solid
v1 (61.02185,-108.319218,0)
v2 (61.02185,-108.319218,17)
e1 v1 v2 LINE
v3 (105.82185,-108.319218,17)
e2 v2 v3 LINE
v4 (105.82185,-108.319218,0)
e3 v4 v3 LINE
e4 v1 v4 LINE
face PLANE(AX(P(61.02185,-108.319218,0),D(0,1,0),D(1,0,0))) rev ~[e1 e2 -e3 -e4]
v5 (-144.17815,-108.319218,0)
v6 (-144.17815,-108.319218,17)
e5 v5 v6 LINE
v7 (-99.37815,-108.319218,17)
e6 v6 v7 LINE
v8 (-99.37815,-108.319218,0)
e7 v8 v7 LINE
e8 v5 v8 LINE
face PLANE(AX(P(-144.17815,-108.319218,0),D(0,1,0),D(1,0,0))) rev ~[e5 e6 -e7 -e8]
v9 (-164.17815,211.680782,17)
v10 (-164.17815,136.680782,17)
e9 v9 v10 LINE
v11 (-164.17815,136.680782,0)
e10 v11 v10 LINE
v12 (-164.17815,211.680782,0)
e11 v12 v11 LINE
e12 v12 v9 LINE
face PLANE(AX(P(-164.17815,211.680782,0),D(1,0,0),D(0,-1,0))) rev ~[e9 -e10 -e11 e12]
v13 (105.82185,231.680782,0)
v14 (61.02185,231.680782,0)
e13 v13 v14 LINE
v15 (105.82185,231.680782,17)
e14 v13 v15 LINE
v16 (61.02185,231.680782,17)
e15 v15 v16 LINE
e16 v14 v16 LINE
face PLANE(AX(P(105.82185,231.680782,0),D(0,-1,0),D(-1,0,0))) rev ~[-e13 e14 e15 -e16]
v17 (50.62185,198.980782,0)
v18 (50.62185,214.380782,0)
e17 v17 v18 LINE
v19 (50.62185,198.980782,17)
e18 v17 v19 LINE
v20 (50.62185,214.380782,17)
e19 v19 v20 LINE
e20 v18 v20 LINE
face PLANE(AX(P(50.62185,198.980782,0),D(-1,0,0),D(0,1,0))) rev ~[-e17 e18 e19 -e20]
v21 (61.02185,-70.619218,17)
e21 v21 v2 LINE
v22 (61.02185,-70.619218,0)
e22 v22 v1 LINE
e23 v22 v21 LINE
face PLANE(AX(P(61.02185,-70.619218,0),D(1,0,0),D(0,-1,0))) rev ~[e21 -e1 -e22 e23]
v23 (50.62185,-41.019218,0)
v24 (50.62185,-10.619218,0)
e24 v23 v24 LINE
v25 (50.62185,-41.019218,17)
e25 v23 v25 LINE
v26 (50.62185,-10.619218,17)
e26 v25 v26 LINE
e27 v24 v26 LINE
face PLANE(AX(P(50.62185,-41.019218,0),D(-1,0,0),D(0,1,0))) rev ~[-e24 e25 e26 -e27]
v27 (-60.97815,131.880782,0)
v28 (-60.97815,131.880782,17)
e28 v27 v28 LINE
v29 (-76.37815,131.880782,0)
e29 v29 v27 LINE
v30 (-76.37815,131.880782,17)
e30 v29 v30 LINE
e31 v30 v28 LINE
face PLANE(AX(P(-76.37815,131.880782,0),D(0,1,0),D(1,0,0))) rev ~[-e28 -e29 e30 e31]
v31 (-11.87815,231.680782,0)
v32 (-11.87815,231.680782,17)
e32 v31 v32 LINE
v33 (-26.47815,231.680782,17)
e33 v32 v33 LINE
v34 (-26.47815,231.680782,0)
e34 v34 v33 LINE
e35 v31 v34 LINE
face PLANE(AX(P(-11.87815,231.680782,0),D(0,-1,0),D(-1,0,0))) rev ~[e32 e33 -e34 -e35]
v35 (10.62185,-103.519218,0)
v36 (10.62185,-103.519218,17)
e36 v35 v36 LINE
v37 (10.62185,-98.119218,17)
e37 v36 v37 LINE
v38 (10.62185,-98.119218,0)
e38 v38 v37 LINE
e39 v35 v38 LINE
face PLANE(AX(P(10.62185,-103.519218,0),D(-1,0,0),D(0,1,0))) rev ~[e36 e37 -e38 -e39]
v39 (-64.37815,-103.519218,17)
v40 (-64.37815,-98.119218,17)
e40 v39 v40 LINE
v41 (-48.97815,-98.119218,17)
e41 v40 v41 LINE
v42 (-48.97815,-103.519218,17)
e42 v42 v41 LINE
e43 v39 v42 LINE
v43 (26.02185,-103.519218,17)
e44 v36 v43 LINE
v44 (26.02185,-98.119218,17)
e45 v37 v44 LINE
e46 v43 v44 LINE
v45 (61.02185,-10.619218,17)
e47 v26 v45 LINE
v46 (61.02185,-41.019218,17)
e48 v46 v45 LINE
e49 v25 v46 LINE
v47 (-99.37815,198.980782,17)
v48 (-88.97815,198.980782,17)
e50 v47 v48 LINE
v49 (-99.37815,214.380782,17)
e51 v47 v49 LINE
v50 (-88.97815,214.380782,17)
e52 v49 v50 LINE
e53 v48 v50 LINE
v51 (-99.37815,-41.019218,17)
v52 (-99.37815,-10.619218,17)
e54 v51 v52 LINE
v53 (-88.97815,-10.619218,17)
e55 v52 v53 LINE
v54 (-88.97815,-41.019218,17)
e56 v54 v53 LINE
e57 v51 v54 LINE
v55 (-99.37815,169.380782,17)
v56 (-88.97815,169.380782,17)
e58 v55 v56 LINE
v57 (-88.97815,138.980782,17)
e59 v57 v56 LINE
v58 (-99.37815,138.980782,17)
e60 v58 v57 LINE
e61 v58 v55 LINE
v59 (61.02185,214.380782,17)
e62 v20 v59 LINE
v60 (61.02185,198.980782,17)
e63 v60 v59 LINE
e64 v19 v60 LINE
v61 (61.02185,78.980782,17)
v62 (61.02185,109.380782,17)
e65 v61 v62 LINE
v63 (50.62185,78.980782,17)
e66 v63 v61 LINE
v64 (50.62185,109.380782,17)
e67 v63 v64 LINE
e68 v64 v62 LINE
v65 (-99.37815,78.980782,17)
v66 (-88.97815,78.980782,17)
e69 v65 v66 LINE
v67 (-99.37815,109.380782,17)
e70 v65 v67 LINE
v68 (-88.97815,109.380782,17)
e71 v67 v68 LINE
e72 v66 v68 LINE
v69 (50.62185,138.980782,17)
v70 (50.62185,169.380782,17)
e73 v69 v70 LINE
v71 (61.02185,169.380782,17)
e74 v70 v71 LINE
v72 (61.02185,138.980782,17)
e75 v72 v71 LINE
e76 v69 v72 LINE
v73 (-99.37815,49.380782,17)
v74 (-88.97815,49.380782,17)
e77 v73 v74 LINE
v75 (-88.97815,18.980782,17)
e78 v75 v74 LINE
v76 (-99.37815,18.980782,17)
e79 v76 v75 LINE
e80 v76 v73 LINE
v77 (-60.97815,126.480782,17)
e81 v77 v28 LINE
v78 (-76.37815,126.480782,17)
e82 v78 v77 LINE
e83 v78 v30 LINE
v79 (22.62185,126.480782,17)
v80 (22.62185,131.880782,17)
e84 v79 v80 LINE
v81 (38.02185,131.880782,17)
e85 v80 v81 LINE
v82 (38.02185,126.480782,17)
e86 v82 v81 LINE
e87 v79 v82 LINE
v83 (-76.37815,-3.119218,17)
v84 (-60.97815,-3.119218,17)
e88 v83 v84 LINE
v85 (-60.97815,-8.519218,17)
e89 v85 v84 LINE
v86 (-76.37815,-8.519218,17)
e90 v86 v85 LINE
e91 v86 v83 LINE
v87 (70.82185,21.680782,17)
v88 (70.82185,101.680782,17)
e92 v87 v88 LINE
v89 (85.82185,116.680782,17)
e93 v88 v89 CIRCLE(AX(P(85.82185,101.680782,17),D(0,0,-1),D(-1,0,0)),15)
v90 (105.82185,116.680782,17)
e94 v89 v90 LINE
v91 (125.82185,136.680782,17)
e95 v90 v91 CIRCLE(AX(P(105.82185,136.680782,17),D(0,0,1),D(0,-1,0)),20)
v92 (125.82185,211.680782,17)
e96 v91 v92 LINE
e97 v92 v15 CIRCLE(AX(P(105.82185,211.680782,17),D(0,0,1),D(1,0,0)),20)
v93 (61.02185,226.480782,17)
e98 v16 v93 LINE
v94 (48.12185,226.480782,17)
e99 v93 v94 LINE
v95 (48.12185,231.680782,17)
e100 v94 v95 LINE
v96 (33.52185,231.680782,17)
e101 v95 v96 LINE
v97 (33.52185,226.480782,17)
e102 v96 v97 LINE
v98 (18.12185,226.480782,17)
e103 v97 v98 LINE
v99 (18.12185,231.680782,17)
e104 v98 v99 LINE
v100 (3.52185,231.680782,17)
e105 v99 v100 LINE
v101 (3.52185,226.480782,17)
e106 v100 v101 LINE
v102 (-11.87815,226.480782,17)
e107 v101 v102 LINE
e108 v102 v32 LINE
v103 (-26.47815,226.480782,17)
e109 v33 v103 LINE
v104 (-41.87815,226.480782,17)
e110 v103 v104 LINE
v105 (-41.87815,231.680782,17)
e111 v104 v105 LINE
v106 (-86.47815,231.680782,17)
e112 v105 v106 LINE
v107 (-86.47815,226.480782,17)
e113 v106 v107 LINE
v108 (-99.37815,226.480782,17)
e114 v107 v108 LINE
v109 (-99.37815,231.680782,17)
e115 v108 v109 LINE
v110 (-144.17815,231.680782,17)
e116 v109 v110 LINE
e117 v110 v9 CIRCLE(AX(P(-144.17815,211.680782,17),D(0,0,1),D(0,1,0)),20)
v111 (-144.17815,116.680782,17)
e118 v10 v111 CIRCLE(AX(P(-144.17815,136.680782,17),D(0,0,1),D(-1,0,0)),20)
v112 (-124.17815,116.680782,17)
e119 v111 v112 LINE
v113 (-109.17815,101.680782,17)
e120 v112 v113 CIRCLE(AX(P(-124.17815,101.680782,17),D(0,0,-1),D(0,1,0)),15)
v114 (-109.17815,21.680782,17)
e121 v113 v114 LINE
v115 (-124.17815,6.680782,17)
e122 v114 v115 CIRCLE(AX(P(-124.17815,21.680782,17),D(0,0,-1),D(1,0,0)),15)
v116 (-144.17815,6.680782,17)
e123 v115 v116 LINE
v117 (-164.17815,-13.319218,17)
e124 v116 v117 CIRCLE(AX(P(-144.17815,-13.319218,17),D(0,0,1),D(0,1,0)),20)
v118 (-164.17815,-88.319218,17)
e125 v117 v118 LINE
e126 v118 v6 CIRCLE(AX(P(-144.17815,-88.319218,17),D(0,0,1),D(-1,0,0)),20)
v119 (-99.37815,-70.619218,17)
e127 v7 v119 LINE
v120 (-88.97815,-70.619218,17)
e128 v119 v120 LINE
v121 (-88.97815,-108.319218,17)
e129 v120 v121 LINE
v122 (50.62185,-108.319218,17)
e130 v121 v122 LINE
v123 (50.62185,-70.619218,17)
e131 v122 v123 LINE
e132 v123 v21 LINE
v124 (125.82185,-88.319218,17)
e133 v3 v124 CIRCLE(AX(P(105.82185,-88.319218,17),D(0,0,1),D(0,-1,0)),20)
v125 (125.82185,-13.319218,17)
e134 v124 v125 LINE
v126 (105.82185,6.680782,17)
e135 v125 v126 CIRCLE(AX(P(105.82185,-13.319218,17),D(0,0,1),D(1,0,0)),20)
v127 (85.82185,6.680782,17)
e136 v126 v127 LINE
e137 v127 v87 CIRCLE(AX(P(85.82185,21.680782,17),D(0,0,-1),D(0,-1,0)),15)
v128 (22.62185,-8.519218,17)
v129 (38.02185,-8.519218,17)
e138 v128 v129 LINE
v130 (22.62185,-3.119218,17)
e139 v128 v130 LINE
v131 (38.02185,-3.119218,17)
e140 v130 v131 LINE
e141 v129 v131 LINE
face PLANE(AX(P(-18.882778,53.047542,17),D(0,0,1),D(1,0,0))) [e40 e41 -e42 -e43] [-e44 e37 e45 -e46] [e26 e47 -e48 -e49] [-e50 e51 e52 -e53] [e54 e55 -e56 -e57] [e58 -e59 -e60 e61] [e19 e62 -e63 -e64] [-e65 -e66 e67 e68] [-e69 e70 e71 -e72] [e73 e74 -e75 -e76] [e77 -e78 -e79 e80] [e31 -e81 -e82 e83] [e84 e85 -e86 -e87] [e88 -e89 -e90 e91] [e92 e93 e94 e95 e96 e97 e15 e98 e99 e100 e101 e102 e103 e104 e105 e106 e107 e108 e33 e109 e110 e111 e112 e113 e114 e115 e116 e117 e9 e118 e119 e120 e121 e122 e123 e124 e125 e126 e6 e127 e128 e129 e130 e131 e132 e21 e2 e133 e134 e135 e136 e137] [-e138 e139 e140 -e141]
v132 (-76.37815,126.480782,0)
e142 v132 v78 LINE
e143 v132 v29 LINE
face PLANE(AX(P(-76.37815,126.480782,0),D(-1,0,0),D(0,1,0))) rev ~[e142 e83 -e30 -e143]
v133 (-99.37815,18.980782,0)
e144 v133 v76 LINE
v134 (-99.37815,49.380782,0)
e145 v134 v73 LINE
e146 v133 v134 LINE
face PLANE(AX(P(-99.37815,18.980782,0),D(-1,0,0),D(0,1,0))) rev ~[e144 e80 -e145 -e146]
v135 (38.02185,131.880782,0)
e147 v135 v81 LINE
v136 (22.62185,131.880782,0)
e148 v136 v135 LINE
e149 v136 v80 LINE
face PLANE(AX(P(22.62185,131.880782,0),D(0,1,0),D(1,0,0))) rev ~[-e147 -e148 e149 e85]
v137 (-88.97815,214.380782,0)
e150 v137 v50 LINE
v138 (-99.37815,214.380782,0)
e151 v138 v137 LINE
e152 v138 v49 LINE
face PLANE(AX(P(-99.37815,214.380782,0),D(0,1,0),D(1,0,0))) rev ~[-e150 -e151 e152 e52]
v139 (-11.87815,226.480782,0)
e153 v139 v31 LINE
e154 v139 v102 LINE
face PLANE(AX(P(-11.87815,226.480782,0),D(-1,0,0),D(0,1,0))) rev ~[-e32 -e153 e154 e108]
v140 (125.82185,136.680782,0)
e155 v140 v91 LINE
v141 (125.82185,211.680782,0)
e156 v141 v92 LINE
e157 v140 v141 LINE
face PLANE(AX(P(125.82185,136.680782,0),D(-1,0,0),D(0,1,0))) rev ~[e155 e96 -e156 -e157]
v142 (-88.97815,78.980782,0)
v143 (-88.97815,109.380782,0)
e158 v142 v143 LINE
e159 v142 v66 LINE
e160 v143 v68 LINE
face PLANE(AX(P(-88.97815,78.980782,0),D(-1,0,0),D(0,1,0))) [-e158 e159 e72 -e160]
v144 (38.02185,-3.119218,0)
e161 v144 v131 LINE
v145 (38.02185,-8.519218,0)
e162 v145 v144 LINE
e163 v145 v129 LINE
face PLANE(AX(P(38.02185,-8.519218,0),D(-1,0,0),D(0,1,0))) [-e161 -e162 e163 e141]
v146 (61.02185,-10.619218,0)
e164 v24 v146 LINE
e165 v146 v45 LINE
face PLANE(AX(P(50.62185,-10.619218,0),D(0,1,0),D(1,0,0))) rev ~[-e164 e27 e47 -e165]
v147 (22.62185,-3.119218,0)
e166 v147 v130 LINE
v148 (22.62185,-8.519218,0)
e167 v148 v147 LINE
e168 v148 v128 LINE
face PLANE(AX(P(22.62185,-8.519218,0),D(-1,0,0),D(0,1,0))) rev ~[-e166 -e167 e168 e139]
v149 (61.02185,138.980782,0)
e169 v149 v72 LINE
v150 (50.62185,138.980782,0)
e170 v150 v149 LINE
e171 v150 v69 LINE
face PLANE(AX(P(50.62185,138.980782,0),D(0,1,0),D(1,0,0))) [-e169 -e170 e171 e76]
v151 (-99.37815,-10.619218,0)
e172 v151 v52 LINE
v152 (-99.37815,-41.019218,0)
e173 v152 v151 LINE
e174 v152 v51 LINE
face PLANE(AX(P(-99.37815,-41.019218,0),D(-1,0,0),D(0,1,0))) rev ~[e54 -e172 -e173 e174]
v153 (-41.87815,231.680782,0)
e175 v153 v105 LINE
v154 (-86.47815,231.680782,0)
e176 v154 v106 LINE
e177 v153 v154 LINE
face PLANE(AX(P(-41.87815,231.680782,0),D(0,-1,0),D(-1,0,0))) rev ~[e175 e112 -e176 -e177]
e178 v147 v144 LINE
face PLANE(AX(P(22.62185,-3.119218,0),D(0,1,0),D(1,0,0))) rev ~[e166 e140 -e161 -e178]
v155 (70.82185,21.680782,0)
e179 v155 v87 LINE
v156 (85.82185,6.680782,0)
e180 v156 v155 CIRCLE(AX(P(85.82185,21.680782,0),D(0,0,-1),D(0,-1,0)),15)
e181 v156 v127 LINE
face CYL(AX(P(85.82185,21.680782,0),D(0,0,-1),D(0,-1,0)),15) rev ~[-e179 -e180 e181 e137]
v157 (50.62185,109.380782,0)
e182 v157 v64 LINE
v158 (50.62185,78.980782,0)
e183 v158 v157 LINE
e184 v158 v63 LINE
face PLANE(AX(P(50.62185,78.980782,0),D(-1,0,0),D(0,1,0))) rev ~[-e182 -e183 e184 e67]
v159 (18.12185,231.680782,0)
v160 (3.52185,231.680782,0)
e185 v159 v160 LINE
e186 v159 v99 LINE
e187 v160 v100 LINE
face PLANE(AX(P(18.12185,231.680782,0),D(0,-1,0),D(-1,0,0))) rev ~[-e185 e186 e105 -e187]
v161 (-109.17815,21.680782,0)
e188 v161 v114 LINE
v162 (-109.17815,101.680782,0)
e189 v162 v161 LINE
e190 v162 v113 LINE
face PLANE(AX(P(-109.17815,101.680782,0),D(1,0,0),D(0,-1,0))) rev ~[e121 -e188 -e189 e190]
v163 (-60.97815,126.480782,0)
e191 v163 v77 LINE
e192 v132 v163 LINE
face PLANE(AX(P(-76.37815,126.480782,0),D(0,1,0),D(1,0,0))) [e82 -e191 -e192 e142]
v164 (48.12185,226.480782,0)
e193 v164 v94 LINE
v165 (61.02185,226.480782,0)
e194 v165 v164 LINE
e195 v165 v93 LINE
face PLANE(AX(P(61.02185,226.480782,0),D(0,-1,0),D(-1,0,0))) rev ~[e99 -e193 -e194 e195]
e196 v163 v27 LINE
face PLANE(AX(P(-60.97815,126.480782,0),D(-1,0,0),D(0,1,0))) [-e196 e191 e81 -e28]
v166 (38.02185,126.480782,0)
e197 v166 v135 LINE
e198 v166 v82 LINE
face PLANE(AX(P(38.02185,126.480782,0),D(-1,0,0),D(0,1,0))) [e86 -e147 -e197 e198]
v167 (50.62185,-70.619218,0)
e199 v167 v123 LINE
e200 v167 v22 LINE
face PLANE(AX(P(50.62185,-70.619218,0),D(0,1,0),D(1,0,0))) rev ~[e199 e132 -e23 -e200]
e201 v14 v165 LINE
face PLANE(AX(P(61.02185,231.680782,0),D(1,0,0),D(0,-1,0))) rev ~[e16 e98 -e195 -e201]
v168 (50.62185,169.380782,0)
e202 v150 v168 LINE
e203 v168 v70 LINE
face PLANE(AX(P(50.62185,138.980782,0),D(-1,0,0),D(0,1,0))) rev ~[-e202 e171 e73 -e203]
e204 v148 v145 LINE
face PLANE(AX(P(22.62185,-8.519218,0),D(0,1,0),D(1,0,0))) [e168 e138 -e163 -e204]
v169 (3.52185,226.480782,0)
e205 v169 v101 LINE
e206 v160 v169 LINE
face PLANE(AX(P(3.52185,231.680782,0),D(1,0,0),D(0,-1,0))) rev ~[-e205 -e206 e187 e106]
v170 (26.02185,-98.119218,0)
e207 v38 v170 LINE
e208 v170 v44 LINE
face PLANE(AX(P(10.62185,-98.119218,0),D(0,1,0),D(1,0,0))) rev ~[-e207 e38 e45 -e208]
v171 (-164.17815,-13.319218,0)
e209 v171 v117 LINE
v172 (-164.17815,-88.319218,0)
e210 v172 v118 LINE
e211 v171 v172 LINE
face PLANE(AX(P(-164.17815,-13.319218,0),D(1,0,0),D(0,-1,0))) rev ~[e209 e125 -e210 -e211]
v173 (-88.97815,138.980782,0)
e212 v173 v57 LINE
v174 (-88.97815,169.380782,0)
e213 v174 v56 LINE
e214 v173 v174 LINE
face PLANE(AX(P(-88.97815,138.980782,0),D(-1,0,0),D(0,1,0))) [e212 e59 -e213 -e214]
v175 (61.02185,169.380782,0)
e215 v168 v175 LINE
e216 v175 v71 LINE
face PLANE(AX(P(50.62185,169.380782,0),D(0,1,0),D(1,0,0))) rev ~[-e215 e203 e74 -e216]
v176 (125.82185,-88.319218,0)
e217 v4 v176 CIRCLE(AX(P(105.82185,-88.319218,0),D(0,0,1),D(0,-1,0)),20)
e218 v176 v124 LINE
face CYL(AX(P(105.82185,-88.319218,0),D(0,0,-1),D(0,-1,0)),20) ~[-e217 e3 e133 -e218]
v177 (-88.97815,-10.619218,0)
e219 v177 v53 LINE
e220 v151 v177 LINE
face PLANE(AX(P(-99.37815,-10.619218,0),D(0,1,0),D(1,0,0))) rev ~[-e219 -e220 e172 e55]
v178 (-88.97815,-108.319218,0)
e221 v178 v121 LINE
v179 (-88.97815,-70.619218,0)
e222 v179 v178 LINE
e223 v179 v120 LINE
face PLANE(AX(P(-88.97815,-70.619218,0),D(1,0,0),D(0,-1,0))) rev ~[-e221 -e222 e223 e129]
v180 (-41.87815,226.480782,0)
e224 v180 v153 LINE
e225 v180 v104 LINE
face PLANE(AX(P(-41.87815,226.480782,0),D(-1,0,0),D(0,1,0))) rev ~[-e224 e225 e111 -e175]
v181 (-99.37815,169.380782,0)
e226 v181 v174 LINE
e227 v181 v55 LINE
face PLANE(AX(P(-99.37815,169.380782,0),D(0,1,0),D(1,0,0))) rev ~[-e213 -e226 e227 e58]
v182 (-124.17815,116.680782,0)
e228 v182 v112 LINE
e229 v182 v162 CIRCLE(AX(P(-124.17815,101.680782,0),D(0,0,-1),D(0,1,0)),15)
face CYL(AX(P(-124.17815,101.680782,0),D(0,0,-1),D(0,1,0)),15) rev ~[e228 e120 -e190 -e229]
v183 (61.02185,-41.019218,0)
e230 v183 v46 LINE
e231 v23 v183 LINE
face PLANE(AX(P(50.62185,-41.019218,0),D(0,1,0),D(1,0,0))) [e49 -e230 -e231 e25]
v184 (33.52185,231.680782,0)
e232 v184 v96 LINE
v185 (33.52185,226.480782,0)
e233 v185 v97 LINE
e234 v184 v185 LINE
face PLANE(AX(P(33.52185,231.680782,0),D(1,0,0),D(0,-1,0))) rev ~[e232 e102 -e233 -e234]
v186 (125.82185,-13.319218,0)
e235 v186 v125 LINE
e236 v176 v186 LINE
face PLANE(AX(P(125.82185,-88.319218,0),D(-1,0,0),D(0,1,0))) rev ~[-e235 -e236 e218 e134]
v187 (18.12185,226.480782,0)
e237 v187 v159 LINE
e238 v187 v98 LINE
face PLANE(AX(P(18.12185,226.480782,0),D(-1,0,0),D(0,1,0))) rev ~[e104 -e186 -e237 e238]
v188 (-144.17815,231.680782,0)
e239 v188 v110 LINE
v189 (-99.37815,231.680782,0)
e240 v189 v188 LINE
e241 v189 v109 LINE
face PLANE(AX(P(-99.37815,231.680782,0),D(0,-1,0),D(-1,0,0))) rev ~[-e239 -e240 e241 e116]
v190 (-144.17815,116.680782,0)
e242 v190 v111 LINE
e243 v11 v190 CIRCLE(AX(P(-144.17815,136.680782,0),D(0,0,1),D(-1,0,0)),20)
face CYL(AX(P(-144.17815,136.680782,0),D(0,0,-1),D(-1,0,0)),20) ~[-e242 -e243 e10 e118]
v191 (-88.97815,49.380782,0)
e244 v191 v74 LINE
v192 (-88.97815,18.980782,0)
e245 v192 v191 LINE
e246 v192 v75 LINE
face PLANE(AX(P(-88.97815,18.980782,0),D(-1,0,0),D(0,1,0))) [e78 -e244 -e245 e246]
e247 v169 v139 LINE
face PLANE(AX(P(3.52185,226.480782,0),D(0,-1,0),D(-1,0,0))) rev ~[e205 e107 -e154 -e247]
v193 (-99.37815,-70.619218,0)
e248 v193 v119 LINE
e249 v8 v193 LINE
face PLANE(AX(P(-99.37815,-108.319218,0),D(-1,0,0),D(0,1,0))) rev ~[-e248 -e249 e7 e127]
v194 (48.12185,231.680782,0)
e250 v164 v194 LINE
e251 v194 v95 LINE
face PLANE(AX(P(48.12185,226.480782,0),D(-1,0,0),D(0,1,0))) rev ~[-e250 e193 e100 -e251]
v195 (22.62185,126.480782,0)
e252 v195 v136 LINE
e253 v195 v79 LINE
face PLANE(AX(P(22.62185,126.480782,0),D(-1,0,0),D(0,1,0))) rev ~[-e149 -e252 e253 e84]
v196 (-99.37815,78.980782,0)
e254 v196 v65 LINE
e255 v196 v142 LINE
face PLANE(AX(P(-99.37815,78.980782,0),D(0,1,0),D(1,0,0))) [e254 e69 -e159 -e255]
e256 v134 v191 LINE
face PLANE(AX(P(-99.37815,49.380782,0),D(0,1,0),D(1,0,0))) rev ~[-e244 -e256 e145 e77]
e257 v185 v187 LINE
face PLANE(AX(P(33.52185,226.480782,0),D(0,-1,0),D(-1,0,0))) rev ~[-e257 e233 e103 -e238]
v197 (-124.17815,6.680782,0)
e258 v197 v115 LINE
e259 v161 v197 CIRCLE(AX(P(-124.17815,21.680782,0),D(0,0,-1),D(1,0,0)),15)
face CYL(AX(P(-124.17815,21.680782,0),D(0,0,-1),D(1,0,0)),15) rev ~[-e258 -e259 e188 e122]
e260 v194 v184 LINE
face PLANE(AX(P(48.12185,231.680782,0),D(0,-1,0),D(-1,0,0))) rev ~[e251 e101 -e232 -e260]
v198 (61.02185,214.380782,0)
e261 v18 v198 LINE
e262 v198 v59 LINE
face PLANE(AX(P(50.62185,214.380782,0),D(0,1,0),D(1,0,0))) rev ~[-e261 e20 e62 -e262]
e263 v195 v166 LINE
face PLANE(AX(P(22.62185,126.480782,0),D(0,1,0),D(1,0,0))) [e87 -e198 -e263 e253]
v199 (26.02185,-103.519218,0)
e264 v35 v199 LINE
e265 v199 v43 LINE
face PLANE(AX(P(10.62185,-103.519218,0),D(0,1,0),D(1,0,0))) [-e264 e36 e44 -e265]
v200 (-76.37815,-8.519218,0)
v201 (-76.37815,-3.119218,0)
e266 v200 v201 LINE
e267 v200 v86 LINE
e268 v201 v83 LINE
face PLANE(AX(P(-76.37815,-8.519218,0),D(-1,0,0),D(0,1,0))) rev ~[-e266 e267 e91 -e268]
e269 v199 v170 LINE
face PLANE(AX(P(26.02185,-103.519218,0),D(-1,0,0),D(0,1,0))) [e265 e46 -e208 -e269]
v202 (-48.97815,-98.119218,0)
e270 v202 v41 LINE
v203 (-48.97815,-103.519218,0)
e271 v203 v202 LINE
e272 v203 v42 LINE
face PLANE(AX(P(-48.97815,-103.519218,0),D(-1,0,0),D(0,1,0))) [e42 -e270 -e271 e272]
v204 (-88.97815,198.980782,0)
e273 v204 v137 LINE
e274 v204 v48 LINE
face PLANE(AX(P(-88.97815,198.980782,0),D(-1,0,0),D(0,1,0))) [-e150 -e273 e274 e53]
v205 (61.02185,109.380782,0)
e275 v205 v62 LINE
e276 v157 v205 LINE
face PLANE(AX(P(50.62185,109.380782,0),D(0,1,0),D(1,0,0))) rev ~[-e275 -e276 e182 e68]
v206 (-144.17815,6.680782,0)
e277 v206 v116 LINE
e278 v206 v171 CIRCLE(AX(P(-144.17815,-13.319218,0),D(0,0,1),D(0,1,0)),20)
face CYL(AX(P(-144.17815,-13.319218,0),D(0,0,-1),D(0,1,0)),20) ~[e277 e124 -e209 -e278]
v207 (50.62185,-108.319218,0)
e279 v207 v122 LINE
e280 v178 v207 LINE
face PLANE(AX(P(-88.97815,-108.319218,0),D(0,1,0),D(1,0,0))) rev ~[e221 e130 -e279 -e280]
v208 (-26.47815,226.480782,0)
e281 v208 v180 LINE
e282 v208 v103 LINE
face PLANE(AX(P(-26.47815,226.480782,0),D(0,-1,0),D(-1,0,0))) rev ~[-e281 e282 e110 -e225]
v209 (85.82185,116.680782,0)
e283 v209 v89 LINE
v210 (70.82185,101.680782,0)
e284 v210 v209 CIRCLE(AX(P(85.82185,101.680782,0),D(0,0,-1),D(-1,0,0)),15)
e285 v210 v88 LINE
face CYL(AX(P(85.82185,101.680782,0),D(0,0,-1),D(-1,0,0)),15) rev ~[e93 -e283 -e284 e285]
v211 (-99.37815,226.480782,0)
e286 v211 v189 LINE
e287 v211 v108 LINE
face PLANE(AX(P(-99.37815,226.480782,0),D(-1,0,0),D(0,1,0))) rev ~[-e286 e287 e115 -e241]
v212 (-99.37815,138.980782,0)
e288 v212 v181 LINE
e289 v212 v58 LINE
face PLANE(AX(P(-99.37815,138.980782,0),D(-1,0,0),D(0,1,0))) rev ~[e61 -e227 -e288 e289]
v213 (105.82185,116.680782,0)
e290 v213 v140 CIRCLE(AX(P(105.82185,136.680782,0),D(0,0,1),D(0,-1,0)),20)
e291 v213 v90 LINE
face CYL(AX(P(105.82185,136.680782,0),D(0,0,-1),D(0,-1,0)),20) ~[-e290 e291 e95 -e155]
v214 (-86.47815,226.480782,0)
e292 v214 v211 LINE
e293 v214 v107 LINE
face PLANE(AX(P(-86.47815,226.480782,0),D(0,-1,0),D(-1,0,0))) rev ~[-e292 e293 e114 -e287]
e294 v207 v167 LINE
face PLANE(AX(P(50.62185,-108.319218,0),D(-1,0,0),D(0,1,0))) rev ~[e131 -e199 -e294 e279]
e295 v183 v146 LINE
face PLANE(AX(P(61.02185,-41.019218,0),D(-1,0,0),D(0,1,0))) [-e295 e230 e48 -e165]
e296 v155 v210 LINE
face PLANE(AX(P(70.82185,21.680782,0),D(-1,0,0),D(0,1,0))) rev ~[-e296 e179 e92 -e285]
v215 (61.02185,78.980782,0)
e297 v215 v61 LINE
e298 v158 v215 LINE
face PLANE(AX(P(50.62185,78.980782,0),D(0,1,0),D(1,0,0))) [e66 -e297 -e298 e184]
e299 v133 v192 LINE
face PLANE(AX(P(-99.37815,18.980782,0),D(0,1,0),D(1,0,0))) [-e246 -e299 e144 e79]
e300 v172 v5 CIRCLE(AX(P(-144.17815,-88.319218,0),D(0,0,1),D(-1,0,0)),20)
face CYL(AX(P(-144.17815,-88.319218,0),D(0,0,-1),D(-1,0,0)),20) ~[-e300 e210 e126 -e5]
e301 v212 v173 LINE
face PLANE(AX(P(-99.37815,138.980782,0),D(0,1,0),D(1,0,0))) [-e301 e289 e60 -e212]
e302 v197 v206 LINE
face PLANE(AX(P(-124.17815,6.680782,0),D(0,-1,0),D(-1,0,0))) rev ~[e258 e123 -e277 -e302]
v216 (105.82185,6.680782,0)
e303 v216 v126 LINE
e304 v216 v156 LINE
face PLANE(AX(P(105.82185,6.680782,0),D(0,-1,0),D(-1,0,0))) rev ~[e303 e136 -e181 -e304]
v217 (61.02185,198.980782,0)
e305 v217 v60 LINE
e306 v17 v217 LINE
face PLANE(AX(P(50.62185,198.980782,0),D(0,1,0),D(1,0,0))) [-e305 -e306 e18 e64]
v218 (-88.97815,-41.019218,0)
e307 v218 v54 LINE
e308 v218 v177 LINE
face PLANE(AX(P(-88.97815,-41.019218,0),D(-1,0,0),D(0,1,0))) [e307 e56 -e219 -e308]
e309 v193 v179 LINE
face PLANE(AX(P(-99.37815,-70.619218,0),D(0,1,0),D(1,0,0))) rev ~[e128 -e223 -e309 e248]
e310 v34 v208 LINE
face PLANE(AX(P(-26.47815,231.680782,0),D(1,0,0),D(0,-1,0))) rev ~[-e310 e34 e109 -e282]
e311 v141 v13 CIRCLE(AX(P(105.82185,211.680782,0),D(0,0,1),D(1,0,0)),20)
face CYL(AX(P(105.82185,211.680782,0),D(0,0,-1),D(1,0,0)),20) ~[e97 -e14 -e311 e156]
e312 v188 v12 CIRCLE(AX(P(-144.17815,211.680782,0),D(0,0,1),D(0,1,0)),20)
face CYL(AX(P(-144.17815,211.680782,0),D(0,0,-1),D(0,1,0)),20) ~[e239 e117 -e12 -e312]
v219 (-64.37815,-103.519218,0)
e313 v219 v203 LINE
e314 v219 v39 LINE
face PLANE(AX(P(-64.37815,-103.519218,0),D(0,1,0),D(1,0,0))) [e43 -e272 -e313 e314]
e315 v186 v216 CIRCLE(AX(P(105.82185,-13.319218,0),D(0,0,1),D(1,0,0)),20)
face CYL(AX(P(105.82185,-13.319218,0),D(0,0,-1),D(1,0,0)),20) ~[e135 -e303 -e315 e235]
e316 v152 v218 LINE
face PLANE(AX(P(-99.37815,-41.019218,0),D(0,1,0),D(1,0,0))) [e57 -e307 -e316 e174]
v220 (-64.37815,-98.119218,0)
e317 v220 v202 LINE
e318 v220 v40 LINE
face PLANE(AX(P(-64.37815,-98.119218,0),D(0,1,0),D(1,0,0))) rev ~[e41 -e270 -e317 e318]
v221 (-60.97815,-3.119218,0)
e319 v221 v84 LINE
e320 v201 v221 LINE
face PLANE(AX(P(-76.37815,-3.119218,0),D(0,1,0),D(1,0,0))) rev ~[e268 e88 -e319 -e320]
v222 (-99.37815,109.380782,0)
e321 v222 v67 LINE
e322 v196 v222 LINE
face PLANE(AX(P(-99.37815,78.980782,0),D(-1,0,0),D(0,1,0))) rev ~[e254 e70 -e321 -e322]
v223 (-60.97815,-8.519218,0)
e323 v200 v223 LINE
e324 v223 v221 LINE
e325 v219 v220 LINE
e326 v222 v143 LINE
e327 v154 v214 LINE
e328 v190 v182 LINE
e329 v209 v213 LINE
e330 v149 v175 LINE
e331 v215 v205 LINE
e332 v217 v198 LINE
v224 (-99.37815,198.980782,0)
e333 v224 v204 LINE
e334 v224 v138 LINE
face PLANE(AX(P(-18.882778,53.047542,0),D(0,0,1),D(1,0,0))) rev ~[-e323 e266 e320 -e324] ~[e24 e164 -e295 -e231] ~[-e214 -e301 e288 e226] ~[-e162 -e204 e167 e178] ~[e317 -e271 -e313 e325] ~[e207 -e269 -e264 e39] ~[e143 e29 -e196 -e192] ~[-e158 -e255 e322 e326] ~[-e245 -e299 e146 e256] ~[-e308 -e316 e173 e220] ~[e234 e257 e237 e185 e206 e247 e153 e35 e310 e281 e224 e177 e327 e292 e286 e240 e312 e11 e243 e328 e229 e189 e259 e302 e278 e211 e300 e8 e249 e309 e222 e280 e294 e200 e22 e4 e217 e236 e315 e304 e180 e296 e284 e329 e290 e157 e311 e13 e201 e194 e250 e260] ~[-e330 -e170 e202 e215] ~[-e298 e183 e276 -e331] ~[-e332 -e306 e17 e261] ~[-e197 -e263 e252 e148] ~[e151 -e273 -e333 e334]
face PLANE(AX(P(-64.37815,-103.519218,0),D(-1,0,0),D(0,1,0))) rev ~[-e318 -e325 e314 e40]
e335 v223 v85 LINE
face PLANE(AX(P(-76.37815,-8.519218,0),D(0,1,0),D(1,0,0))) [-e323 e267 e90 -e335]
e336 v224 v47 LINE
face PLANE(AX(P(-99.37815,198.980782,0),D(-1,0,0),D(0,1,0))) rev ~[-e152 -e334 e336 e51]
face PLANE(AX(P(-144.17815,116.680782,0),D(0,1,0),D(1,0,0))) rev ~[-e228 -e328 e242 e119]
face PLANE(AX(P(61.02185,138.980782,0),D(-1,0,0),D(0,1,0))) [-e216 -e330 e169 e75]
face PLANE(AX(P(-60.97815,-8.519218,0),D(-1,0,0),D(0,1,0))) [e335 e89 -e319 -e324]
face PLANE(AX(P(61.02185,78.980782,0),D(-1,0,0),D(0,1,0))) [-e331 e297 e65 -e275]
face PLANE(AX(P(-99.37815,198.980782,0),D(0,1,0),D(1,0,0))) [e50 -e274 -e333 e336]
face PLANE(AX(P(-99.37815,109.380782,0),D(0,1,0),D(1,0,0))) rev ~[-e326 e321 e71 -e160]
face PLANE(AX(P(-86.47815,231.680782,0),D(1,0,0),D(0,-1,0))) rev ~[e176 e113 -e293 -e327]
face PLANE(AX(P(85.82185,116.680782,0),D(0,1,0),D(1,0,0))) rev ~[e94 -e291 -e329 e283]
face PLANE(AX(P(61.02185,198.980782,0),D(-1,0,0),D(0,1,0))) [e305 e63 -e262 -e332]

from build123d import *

# Parameters (mm, degrees)
MODEL_W             = 15.4
MODEL_H             = 5.4
MODEL_W_2           = 10.4
MODEL_H_2           = 15.4
MODEL_H_3           = 30.4
BOSS_EXTRUDE1_DEPTH = 17


with BuildPart() as part:
    # Model → Boss-Extrude1 (new body)
    with BuildSketch(Plane.XY):
        with BuildLine():
            Line((-144.178149878, -108.319218198), (-99.378149878, -108.319218198))
            Line((-99.378149878, -108.319218198), (-99.378149878, -70.619218198))
            Line((-99.378149878, -70.619218198), (-88.978149878, -70.619218198))
            Line((-88.978149878, -70.619218198), (-88.978149878, -108.319218198))
            Line((-88.978149878, -108.319218198), (50.621850122, -108.319218198))
            Line((50.621850122, -108.319218198), (50.621850122, -70.619218198))
            Line((50.621850122, -70.619218198), (61.021850122, -70.619218198))
            Line((61.021850122, -70.619218198), (61.021850122, -108.319218198))
            Line((61.021850122, -108.319218198), (105.821850122, -108.319218198))
            ThreePointArc((105.821850122, -108.319218198), (119.963985745, -102.461353822), (125.821850122, -88.319218198))
            Line((125.821850122, -88.319218198), (125.821850122, -13.319218198))
            ThreePointArc((125.821850122, -13.319218198), (119.963985745, 0.822917426), (105.821850122, 6.680781802))
            Line((105.821850122, 6.680781802), (85.821850122, 6.680781802))
            ThreePointArc((85.821850122, 6.680781802), (75.215248404, 11.074180084), (70.821850122, 21.680781802))
            Line((70.821850122, 21.680781802), (70.821850122, 101.680781802))
            ThreePointArc((70.821850122, 101.680781802), (75.215248404, 112.28738352), (85.821850122, 116.680781802))
            Line((85.821850122, 116.680781802), (105.821850122, 116.680781802))
            ThreePointArc((105.821850122, 116.680781802), (119.963985745, 122.538646178), (125.821850122, 136.680781802))
            Line((125.821850122, 136.680781802), (125.821850122, 211.680781802))
            ThreePointArc((125.821850122, 211.680781802), (119.963985745, 225.822917426), (105.821850122, 231.680781802))
            Line((105.821850122, 231.680781802), (61.021850122, 231.680781802))
            Line((61.021850122, 231.680781802), (61.021850122, 226.480781802))
            Line((61.021850122, 226.480781802), (48.121850122, 226.480781802))
            Line((48.121850122, 226.480781802), (48.121850122, 231.680781802))
            Line((48.121850122, 231.680781802), (33.521850122, 231.680781802))
            Line((33.521850122, 231.680781802), (33.521850122, 226.480781802))
            Line((33.521850122, 226.480781802), (18.121850122, 226.480781802))
            Line((18.121850122, 226.480781802), (18.121850122, 231.680781802))
            Line((18.121850122, 231.680781802), (3.521850122, 231.680781802))
            Line((3.521850122, 231.680781802), (3.521850122, 226.480781802))
            Line((3.521850122, 226.480781802), (-11.878149878, 226.480781802))
            Line((-11.878149878, 226.480781802), (-11.878149878, 231.680781802))
            Line((-11.878149878, 231.680781802), (-26.478149878, 231.680781802))
            Line((-26.478149878, 231.680781802), (-26.478149878, 226.480781802))
            Line((-26.478149878, 226.480781802), (-41.878149878, 226.480781802))
            Line((-41.878149878, 226.480781802), (-41.878149878, 231.680781802))
            Line((-41.878149878, 231.680781802), (-86.478149878, 231.680781802))
            Line((-86.478149878, 231.680781802), (-86.478149878, 226.480781802))
            Line((-86.478149878, 226.480781802), (-99.378149878, 226.480781802))
            Line((-99.378149878, 226.480781802), (-99.378149878, 231.680781802))
            Line((-99.378149878, 231.680781802), (-144.178149878, 231.680781802))
            ThreePointArc((-144.178149878, 231.680781802), (-158.320285502, 225.822917426), (-164.178149878, 211.680781802))
            Line((-164.178149878, 211.680781802), (-164.178149878, 136.680781802))
            ThreePointArc((-164.178149878, 136.680781802), (-158.320285502, 122.538646178), (-144.178149878, 116.680781802))
            Line((-144.178149878, 116.680781802), (-124.178149878, 116.680781802))
            ThreePointArc((-124.178149878, 116.680781802), (-113.571548161, 112.28738352), (-109.178149878, 101.680781802))
            Line((-109.178149878, 101.680781802), (-109.178149878, 21.680781802))
            ThreePointArc((-109.178149878, 21.680781802), (-113.571548161, 11.074180084), (-124.178149878, 6.680781802))
            Line((-124.178149878, 6.680781802), (-144.178149878, 6.680781802))
            ThreePointArc((-144.178149878, 6.680781802), (-158.320285502, 0.822917426), (-164.178149878, -13.319218198))
            Line((-164.178149878, -13.319218198), (-164.178149878, -88.319218198))
            ThreePointArc((-164.178149878, -88.319218198), (-158.320285502, -102.461353822), (-144.178149878, -108.319218198))
        make_face()
        with Locations((30.321850122, 129.180781802)):
            Rectangle(MODEL_W, MODEL_H, mode=Mode.SUBTRACT)
        with Locations((-68.678149878, 129.180781802)):
            Rectangle(MODEL_W, MODEL_H, mode=Mode.SUBTRACT)
        with Locations((30.321850122, -5.819218198)):
            Rectangle(MODEL_W, MODEL_H, mode=Mode.SUBTRACT)
        with Locations((-68.678149878, -5.819218198)):
            Rectangle(MODEL_W, MODEL_H, mode=Mode.SUBTRACT)
        with Locations((-94.178149878, 206.680781802)):
            Rectangle(MODEL_W_2, MODEL_H_2, mode=Mode.SUBTRACT)
        with Locations((-94.178149878, -25.819218198)):
            Rectangle(MODEL_W_2, MODEL_H_3, mode=Mode.SUBTRACT)
        with Locations((-94.178149878, 94.180781802)):
            Rectangle(MODEL_W_2, MODEL_H_3, mode=Mode.SUBTRACT)
        with Locations((-94.178149878, 154.180781802)):
            Rectangle(MODEL_W_2, MODEL_H_3, mode=Mode.SUBTRACT)
        with Locations((55.821850122, -25.819218198)):
            Rectangle(MODEL_W_2, MODEL_H_3, mode=Mode.SUBTRACT)
        with Locations((55.821850122, 94.180781802)):
            Rectangle(MODEL_W_2, MODEL_H_3, mode=Mode.SUBTRACT)
        with Locations((55.821850122, 154.180781802)):
            Rectangle(MODEL_W_2, MODEL_H_3, mode=Mode.SUBTRACT)
        with Locations((18.321850122, -100.819218198)):
            Rectangle(MODEL_W, MODEL_H, mode=Mode.SUBTRACT)
        with Locations((-56.678149878, -100.819218198)):
            Rectangle(MODEL_W, MODEL_H, mode=Mode.SUBTRACT)
        with Locations((55.821850122, 206.680781802)):
            Rectangle(MODEL_W_2, MODEL_H_2, mode=Mode.SUBTRACT)
        with Locations((-94.178149878, 34.180781802)):
            Rectangle(MODEL_W_2, MODEL_H_3, mode=Mode.SUBTRACT)
    extrude(amount=BOSS_EXTRUDE1_DEPTH)


solid = part.part
